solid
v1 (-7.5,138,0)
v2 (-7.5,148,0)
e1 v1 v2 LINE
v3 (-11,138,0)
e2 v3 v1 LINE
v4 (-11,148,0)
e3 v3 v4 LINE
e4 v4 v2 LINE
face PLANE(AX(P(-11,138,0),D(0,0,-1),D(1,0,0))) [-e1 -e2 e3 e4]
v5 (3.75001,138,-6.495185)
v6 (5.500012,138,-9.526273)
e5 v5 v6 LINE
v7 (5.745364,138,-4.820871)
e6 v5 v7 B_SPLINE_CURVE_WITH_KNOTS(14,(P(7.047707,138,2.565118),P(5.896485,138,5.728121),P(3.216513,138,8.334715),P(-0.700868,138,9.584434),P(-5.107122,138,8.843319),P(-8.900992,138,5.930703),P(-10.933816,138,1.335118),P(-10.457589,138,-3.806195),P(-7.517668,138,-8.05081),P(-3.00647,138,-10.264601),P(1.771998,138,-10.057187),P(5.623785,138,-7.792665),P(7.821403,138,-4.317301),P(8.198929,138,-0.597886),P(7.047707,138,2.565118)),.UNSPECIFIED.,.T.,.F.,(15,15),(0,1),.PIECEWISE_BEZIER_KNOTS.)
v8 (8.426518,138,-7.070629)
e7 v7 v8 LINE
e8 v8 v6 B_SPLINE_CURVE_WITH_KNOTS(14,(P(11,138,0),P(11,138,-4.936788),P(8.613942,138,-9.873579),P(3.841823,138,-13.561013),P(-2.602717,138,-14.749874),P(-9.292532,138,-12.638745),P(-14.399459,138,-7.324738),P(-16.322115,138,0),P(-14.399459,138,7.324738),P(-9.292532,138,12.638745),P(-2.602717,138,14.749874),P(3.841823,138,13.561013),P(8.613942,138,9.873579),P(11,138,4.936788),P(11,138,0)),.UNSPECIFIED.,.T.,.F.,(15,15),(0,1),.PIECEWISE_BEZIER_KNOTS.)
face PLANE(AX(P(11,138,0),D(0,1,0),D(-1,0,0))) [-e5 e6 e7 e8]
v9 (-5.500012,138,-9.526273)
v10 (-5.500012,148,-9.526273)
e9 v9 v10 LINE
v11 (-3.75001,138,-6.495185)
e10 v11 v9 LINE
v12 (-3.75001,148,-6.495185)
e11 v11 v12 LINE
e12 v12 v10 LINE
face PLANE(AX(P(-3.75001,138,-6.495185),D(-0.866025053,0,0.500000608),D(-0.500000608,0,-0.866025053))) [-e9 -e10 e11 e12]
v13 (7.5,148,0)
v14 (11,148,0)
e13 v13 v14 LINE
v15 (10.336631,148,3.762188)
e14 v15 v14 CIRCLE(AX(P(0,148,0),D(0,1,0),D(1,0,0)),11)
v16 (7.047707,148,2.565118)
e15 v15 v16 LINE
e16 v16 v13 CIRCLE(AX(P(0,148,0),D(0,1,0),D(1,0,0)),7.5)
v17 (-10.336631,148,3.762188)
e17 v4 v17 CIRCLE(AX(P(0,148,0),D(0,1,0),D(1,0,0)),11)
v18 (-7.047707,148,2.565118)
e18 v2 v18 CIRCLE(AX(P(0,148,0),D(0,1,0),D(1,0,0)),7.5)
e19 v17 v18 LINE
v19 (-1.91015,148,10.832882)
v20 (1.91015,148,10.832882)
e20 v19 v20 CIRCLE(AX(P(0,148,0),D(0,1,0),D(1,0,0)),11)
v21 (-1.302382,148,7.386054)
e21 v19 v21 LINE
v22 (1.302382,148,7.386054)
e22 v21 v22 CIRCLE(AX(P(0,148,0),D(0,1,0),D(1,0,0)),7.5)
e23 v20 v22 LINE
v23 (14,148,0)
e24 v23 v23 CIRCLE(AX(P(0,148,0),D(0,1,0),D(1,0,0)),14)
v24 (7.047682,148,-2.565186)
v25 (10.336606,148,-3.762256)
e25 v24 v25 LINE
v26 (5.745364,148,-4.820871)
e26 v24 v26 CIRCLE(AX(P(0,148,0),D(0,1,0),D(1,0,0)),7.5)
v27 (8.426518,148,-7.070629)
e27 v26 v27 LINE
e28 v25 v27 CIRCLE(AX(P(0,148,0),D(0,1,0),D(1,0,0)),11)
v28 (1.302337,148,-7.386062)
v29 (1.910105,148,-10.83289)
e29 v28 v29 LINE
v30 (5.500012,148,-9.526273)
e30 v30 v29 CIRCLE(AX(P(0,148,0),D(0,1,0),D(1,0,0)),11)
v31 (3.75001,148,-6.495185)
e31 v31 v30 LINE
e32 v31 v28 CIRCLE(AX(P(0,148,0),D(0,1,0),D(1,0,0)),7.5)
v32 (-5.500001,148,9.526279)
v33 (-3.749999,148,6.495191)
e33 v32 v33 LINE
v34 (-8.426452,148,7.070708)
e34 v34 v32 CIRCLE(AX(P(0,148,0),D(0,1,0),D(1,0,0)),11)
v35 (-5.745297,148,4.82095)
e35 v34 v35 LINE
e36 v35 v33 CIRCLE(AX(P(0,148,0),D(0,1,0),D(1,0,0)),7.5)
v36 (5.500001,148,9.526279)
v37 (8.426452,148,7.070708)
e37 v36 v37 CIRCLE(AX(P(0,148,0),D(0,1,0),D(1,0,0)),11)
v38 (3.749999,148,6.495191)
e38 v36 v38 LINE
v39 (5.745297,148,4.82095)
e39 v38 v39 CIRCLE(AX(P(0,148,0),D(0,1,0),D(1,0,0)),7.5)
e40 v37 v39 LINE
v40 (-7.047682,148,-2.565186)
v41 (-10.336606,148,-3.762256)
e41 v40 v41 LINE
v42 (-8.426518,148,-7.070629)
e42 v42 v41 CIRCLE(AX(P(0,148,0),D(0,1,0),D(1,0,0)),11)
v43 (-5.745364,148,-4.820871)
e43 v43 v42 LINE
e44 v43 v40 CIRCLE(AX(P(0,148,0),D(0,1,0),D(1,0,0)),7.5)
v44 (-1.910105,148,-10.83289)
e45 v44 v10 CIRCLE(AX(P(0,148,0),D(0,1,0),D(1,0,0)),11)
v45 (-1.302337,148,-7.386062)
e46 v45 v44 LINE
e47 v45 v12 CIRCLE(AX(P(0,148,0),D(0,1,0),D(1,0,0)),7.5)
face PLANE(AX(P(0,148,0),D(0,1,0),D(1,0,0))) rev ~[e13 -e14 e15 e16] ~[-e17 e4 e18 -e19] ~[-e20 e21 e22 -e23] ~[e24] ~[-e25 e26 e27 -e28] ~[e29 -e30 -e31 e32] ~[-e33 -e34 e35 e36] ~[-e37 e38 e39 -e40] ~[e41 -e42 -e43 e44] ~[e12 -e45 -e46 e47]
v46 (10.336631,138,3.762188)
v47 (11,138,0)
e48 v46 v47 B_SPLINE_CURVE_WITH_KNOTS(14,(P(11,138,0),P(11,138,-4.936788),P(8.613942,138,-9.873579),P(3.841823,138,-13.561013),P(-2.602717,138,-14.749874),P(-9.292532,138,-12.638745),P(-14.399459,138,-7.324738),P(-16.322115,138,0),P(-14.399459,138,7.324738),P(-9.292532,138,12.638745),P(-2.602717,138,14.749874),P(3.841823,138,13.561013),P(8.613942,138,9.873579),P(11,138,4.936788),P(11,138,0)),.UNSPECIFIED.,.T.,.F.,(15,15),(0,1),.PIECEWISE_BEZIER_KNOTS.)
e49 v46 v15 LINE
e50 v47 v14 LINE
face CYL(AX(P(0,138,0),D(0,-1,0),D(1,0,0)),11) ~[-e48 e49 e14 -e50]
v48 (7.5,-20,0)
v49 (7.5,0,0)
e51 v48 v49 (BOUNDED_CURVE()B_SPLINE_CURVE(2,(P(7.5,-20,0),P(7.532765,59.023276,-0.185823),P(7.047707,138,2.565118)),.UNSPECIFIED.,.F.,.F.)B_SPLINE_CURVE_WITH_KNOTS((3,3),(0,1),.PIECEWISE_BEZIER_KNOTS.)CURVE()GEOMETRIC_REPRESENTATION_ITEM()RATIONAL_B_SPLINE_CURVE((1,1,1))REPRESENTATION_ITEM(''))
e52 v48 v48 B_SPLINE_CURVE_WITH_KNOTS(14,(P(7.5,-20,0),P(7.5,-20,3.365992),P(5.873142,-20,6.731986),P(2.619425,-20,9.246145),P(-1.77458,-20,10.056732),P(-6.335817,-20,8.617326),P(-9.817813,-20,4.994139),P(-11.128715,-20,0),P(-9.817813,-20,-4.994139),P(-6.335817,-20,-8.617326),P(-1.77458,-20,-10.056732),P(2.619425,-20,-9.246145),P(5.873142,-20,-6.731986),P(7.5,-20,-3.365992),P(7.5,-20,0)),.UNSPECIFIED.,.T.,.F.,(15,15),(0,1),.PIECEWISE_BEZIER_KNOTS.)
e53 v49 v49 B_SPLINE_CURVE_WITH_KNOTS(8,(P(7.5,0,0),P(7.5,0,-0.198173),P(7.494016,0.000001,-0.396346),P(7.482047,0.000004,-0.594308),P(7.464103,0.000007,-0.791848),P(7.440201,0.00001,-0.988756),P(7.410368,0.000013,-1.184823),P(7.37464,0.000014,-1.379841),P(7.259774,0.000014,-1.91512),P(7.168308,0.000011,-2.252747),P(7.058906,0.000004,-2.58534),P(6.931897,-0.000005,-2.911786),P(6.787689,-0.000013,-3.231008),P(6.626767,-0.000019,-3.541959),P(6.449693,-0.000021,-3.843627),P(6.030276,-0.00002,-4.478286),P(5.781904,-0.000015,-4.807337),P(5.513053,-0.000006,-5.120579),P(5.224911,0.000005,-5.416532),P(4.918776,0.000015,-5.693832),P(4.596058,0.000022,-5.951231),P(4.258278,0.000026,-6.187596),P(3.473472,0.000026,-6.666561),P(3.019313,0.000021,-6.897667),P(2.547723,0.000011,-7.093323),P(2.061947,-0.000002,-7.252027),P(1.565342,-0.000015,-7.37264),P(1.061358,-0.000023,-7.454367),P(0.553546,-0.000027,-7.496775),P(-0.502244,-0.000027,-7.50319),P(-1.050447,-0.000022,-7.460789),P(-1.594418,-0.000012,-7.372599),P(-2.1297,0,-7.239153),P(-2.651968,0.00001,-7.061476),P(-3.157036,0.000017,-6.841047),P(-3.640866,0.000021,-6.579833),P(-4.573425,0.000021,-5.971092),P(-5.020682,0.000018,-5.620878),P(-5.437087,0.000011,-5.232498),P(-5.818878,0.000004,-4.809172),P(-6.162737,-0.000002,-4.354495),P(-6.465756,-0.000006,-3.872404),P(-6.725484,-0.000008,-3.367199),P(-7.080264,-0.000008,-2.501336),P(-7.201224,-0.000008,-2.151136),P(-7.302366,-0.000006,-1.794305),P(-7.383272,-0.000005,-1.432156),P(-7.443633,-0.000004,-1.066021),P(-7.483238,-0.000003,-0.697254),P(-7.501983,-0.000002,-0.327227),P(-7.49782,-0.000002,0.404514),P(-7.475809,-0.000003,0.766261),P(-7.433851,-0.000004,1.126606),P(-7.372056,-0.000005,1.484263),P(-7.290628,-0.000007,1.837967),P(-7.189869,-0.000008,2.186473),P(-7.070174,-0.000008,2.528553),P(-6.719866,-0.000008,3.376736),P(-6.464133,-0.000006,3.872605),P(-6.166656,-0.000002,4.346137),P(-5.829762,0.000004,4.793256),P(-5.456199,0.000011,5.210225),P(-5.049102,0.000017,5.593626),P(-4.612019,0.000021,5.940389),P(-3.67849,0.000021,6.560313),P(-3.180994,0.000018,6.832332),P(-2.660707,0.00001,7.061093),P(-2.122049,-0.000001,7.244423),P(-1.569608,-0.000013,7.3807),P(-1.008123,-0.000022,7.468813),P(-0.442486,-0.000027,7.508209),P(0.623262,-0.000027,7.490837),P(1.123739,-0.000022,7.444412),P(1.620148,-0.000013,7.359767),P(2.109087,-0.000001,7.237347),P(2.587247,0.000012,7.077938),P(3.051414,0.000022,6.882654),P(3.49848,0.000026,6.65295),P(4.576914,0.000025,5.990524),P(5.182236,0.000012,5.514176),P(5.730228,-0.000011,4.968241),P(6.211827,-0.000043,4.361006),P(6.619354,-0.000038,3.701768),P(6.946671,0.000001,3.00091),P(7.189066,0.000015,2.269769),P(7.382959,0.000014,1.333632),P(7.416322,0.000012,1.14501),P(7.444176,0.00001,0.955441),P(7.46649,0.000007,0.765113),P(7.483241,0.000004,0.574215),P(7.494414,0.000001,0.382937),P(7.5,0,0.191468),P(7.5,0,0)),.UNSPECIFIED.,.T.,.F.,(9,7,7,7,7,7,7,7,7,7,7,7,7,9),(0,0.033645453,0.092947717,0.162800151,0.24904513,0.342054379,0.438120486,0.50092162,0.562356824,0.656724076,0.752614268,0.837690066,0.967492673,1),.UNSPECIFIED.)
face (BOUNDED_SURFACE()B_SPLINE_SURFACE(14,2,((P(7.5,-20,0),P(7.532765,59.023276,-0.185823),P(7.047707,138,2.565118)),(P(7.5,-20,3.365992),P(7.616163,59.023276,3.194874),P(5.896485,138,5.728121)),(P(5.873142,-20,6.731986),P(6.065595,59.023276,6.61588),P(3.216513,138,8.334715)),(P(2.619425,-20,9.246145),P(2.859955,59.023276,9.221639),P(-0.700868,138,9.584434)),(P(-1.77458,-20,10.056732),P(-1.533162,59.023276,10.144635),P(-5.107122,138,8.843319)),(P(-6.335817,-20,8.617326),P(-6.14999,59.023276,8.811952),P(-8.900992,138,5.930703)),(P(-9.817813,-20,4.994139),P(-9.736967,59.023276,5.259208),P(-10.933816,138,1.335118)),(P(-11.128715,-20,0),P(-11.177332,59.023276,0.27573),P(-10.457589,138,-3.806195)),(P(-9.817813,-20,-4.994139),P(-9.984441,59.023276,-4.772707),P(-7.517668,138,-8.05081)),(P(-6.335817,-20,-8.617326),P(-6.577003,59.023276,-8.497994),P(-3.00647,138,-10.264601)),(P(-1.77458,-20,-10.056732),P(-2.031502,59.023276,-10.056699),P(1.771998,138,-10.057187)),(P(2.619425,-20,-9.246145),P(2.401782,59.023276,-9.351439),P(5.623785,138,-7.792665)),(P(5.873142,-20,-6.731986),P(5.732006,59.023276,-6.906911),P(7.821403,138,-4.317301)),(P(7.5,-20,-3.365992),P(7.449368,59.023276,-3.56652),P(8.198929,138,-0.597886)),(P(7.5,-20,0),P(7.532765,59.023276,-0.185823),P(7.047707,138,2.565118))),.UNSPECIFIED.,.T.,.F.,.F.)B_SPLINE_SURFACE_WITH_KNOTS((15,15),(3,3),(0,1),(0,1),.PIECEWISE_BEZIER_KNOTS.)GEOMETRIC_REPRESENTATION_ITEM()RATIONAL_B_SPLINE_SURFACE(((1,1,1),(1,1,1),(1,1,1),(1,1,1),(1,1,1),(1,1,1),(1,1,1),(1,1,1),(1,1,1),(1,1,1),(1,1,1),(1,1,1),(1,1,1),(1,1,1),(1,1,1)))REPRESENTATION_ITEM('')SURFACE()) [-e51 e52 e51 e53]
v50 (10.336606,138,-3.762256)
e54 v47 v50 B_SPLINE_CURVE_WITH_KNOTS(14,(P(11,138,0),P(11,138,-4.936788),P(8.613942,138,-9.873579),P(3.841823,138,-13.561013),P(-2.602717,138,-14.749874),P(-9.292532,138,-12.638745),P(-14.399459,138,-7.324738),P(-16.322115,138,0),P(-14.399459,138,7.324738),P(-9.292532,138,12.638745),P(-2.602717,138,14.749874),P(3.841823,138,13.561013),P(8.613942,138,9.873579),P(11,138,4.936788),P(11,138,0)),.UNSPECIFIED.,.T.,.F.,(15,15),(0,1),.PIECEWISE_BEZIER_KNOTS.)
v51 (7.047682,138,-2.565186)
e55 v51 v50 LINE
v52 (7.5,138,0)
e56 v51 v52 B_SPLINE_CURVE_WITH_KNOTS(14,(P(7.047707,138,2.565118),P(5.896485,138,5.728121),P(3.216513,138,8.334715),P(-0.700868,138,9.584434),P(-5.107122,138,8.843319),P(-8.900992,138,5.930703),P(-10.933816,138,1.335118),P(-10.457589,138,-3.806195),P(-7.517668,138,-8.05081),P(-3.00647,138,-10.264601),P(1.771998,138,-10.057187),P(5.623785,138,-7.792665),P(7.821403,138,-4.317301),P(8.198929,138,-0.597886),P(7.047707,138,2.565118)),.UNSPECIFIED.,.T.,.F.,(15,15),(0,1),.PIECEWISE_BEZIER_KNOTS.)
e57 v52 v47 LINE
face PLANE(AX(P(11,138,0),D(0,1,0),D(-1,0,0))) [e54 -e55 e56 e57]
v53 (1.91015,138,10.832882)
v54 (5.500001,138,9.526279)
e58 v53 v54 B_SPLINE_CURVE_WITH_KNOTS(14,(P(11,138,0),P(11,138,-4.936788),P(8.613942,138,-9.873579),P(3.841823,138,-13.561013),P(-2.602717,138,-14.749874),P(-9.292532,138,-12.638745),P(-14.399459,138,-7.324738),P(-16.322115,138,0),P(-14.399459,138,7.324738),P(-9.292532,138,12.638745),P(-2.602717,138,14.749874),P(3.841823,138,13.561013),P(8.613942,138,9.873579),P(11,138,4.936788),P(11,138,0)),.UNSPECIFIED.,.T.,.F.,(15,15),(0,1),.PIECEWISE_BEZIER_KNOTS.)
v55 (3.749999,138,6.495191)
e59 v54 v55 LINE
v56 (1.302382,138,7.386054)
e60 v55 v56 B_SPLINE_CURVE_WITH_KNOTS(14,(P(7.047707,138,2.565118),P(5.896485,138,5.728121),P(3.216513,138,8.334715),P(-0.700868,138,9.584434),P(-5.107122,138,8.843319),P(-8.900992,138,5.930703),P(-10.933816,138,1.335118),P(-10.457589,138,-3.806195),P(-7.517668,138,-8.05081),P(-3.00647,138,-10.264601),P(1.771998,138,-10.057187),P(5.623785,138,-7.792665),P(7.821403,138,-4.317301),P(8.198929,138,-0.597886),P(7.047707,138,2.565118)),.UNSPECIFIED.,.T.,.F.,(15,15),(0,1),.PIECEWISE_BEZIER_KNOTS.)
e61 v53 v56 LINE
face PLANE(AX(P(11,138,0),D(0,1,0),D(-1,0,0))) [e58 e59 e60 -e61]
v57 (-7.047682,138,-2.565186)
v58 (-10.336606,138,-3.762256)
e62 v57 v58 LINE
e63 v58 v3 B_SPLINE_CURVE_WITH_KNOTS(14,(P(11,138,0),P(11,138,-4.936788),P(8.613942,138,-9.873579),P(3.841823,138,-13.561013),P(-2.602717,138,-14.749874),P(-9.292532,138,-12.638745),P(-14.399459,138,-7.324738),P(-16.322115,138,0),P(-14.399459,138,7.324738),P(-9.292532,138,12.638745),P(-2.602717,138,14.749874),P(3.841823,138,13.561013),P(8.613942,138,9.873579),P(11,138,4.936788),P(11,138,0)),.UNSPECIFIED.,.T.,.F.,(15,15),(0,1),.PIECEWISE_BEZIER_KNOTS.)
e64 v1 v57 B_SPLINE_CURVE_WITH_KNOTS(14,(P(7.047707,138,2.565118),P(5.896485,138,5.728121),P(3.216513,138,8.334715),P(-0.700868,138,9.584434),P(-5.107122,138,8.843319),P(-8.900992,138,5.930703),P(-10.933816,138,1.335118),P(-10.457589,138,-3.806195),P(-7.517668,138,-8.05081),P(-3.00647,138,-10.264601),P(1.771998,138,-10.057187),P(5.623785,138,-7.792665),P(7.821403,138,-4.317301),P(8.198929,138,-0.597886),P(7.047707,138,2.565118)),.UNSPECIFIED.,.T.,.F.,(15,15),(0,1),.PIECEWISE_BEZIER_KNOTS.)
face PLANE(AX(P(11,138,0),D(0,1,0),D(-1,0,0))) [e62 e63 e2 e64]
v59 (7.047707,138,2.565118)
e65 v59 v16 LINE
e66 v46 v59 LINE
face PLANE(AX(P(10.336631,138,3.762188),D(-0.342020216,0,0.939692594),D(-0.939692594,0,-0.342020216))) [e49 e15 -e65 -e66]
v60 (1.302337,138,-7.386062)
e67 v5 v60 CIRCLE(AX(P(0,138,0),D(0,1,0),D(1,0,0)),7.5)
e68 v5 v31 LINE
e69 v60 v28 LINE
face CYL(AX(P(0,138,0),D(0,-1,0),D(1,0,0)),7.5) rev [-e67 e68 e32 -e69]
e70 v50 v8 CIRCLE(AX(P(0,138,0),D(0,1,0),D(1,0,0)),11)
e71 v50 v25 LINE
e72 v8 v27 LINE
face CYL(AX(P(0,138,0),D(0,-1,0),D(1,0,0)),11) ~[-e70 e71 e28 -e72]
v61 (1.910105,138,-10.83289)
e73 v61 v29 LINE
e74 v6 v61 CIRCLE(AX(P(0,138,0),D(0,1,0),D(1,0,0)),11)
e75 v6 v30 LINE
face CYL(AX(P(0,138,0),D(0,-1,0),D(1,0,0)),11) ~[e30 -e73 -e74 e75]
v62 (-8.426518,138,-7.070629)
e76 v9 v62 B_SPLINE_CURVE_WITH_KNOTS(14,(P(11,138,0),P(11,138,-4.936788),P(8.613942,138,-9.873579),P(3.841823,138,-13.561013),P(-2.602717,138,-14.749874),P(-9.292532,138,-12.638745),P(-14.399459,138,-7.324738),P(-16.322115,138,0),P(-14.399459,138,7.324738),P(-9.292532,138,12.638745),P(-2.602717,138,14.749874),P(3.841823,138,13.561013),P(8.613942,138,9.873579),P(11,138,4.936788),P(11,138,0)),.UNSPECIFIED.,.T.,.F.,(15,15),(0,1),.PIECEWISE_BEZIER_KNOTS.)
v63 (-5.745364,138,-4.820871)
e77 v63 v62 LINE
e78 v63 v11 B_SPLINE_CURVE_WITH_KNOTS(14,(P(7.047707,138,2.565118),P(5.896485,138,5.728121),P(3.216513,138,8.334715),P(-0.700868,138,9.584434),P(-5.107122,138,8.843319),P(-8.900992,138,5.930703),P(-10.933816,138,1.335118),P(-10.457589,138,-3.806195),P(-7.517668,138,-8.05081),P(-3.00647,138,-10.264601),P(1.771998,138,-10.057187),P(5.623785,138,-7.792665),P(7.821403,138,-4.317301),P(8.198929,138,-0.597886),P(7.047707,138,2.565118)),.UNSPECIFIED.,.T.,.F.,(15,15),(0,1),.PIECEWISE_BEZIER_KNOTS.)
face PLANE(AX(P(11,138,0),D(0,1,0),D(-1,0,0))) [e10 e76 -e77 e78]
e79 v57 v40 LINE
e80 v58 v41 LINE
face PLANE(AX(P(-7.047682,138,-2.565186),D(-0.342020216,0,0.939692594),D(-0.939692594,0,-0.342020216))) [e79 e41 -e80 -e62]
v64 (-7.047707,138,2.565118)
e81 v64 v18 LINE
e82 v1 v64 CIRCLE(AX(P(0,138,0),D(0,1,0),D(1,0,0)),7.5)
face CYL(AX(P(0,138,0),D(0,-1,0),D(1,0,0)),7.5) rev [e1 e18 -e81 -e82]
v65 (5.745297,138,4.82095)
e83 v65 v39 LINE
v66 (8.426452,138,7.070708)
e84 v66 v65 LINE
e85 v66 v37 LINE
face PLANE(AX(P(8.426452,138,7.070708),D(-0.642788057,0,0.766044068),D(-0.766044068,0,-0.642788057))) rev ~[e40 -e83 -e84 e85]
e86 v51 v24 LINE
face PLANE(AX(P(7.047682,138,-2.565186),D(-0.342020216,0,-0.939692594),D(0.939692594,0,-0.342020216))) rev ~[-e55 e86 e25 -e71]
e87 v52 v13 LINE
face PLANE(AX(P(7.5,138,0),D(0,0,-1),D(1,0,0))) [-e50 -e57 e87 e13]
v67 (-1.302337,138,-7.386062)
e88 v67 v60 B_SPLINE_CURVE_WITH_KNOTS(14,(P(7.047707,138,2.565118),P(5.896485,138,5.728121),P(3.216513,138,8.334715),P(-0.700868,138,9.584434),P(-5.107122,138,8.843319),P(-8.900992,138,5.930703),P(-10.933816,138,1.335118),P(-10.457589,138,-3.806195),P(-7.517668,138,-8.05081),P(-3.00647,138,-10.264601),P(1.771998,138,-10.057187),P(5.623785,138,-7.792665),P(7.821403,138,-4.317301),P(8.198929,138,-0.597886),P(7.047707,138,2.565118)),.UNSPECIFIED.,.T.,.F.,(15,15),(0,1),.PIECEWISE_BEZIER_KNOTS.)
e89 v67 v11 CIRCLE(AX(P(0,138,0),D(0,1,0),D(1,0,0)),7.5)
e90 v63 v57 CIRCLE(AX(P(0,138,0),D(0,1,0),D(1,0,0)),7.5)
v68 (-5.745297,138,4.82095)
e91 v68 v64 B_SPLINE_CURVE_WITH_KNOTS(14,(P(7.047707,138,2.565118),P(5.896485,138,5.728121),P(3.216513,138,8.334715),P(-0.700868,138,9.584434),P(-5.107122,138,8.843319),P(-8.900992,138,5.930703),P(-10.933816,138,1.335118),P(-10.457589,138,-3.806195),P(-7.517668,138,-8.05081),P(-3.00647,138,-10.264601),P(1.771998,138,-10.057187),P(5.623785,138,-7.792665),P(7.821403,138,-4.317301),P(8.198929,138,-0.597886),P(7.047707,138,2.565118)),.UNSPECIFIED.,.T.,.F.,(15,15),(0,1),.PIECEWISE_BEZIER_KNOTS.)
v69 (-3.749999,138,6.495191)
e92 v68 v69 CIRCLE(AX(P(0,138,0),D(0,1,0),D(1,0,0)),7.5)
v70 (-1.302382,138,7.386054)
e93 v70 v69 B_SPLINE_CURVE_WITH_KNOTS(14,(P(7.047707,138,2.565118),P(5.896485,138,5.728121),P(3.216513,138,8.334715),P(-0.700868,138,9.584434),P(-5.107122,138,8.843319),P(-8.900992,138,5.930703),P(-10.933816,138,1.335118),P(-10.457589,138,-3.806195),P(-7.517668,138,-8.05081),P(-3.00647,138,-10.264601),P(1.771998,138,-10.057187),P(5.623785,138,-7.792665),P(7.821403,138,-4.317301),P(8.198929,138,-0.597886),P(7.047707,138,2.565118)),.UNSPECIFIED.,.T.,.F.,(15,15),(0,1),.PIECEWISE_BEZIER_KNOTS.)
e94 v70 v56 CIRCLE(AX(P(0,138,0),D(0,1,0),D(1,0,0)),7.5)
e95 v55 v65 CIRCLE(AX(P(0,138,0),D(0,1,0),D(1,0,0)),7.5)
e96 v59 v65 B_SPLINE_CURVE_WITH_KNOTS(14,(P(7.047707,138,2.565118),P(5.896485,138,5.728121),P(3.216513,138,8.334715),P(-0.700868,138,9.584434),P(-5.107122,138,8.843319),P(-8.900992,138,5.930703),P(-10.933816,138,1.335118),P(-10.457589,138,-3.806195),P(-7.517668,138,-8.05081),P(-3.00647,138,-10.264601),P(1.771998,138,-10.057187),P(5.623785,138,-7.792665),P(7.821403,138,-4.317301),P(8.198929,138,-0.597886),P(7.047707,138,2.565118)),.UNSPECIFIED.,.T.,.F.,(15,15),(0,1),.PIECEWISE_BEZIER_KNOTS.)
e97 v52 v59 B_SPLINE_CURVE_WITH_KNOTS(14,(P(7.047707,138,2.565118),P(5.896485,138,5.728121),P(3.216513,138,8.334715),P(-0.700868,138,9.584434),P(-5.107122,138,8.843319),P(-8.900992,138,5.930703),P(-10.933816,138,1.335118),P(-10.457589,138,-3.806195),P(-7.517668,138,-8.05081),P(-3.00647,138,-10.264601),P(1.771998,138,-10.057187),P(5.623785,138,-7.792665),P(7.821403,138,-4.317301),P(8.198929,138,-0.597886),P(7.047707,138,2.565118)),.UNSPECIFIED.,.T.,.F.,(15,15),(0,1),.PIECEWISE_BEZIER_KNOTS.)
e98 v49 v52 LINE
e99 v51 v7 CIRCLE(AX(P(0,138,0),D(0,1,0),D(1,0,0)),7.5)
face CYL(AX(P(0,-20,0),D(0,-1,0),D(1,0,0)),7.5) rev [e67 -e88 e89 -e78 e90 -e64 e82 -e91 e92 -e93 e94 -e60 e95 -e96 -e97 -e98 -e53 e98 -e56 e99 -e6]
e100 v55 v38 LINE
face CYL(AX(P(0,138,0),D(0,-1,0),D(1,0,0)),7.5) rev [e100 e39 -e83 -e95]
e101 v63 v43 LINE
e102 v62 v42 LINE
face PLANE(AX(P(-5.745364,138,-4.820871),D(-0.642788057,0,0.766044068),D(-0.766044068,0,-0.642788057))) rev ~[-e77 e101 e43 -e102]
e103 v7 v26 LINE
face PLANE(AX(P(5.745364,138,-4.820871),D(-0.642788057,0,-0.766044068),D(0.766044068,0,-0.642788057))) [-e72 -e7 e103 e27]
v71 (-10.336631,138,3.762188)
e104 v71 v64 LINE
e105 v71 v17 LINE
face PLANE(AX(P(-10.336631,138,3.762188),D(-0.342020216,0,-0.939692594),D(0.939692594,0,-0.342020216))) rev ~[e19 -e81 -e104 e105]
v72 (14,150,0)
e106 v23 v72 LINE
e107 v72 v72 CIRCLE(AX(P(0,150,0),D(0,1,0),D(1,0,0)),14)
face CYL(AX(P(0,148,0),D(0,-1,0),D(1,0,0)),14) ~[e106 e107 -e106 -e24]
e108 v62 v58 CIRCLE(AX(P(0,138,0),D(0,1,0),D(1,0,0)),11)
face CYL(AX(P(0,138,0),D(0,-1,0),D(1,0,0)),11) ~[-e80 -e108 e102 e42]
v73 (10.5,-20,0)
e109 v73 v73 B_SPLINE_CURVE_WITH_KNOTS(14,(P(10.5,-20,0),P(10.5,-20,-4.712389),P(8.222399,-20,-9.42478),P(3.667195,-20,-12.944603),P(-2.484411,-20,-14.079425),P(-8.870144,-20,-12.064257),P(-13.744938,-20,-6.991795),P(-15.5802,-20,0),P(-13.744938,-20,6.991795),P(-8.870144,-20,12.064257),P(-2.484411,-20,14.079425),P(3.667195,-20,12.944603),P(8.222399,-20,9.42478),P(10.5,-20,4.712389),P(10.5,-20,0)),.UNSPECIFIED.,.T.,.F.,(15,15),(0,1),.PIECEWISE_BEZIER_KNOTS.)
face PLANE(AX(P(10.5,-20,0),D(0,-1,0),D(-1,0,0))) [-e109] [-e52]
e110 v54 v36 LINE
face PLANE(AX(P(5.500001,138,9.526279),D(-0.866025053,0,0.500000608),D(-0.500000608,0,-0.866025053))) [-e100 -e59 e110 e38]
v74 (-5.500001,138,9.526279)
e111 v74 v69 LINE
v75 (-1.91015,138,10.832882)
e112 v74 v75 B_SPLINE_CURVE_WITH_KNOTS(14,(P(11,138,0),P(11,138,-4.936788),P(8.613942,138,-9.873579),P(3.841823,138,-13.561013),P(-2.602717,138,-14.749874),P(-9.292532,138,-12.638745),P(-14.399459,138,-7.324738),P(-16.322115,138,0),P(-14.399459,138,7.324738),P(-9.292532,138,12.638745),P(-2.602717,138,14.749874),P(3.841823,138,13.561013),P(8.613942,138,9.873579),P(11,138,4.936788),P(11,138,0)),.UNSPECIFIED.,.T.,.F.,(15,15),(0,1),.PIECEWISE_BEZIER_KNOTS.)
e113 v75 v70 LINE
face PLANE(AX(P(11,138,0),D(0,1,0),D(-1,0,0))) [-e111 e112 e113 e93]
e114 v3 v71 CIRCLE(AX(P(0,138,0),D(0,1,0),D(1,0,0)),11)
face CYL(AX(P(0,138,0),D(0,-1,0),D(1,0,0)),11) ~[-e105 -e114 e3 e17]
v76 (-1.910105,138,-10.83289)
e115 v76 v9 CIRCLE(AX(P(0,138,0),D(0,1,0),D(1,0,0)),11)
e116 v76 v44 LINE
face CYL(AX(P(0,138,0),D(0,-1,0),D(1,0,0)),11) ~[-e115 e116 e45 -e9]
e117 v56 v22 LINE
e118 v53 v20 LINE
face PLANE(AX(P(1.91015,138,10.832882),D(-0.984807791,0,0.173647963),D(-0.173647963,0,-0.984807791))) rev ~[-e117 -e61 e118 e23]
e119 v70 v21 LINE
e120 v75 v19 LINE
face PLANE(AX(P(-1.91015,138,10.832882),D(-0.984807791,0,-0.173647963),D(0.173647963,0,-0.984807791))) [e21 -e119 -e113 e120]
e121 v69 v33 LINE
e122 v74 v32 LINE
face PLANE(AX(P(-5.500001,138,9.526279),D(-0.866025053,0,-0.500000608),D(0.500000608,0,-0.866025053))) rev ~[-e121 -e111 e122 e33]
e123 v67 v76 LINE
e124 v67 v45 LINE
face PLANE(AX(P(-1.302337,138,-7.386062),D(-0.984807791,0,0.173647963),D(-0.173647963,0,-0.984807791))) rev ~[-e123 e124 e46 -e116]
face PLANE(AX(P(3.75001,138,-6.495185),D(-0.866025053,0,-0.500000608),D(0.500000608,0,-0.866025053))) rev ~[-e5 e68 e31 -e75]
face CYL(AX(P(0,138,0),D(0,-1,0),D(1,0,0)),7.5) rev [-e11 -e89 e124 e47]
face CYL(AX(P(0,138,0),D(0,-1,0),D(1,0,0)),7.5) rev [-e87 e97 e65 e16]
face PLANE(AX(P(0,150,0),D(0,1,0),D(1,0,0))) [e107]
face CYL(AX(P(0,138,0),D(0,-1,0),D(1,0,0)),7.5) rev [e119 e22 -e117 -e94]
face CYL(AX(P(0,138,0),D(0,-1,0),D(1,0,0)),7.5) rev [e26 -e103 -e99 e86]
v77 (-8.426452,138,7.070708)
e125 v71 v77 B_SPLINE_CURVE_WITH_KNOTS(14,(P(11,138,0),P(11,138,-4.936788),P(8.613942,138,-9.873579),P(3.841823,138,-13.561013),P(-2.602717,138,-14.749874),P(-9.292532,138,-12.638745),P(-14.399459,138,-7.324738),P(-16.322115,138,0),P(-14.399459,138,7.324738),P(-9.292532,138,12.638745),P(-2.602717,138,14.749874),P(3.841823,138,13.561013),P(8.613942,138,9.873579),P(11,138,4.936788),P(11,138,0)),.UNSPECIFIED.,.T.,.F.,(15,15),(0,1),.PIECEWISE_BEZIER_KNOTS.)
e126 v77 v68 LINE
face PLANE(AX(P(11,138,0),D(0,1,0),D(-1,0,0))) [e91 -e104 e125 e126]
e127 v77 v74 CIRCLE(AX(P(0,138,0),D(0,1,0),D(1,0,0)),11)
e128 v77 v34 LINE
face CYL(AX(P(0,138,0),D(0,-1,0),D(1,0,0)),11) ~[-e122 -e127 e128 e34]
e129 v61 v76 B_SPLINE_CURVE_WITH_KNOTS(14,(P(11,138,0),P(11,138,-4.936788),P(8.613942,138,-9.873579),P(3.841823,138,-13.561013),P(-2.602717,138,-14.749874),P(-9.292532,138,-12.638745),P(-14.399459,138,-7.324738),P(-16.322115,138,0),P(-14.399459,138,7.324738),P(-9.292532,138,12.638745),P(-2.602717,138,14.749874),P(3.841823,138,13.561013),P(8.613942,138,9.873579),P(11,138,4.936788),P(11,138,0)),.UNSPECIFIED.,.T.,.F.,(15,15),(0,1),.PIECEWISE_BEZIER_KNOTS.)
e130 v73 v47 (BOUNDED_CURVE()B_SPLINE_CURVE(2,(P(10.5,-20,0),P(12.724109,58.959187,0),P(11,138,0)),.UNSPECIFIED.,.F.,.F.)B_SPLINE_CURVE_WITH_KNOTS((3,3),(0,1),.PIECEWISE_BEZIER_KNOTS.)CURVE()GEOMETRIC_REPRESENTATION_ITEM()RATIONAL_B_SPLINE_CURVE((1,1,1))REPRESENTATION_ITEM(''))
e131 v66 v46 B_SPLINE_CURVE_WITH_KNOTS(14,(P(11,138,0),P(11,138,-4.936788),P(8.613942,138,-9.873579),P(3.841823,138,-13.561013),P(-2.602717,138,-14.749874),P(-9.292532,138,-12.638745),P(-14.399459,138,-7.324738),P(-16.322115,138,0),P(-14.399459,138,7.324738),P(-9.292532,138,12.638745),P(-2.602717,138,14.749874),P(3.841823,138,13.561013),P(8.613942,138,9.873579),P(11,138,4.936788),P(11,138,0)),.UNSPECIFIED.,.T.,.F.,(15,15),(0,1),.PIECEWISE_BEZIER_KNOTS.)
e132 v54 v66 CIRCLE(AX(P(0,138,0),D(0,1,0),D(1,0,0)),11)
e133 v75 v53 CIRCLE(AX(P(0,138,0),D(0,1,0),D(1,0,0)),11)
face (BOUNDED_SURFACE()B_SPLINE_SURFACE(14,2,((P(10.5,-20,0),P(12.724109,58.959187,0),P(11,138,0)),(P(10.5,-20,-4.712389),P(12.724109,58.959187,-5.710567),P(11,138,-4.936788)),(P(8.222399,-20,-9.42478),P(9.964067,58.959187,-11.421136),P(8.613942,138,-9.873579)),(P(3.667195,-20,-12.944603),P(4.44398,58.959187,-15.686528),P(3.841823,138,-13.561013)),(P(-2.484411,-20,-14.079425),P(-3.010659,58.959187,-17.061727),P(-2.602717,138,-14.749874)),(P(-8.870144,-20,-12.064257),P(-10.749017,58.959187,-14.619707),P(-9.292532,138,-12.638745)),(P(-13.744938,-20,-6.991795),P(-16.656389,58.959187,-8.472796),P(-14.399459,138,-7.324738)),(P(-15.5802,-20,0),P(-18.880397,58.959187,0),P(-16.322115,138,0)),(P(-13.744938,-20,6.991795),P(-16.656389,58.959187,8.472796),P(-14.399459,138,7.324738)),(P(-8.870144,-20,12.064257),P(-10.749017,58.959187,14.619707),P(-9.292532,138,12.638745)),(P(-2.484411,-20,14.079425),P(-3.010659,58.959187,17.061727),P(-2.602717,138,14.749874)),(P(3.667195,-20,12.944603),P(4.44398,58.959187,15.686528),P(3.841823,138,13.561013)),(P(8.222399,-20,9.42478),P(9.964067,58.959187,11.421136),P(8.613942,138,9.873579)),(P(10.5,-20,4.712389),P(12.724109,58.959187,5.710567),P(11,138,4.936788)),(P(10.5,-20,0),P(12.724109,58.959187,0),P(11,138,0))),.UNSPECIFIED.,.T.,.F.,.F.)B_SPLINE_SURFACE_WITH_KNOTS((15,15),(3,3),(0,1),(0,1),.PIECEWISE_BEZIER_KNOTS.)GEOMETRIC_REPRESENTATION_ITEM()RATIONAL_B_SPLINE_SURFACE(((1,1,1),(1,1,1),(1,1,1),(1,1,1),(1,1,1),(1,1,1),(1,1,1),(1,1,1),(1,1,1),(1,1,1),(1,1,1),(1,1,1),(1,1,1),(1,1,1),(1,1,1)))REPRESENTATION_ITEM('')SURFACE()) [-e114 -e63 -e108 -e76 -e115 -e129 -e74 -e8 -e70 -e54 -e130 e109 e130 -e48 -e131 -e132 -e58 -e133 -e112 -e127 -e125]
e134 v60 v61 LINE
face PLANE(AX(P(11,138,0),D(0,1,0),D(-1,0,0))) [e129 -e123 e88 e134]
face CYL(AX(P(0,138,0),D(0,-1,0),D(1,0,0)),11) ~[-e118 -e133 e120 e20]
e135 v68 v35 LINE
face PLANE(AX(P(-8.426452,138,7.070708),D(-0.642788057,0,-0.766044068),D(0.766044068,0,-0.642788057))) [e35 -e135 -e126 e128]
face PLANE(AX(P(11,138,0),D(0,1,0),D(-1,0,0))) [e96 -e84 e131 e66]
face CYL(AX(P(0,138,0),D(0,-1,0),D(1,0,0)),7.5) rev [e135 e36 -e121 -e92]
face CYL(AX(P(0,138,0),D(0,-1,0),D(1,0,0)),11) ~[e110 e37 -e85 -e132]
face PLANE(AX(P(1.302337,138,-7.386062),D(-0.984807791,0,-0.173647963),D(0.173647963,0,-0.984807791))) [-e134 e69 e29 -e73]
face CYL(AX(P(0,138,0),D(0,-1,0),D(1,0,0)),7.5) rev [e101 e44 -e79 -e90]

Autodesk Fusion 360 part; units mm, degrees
sketch "Sketch1" plane through (0, 0, 0) normal (0, 1, 0) x (1, 0, 0)
  circle A0 centre (0, 0) radius 11
  circle A1 centre (0, 0) radius 7.5
  dimension "d1" = 22
  dimension "d2" = 15
ref_plane "WorkPlane1" through (0, 138, 0) normal (0, 1, 0) x (1, 0, 0)
ref_plane "WorkPlane2" through (0, -20, 0) normal (0, 1, 0) x (1, 0, 0)
sketch "Sketch2" plane through (0, -20, 0) normal (0, 1, 0) x (1, 0, 0)
  circle A0 centre (0, 0) radius 7.5
  circle A1 centre (0, 0) radius 10.5
  dimension "d5" = 21
sketch "Sketch3" plane through (0, 138, 0) normal (0, 1, 0) x (1, 0, 0)
  circle A0 centre (0, 0) radius 7.5
  circle A1 centre (0, 0) radius 11
  line L0 (0, 0) -> (20, 0) construction
  line L1 (-12, 0) -> (13, 0)
  line L2 (-11.2763, -4.1042) -> (12.216, 4.4463)
  line L3 (-9.1925, -7.7135) -> (9.9586, 8.3562)
  line L4 (-6, -10.3923) -> (6.5, 11.2583)
  line L5 (-2.0838, -11.8177) -> (2.2574, 12.8025)
  line L6 (2.0838, -11.8177) -> (-2.2574, 12.8025)
  line L7 (6, -10.3923) -> (-6.5, 11.2583)
  line L8 (9.1925, -7.7135) -> (-9.9586, 8.3562)
  line L9 (11.2763, -4.1042) -> (-12.216, 4.4463)
ref_plane "WorkPlane3" through (0, 148, 0) normal (0, 1, 0) x (1, 0, 0)
sketch "Sketch4" plane through (0, 148, 0) normal (0, 1, 0) x (1, 0, 0)
  circle A0 centre (0, 0) radius 7.5
  circle A1 centre (0, 0) radius 14
  dimension "d10" = 28
extrude "Extrude1" add sketch "Sketch4" along normal blind 2 contours A0 | A1 makes body 1
loft "Loft1" add profiles "Sketch2", "Sketch1", "Sketch3" section 1 section 2 section 3 contours A0 A1 L1 L9 | A0 A1 L1 L2 | A0 A1 L2 L3 | A0 A1 L8 L9 | A0 A1 L3 L4 | A0 A1 L7 L8 | A0 A1 L1 L9 | A0 A1 L1 L2 | A0 A1 L2 L3 | A0 A1 L3 L4 | A0 A1 L4 L5 | A0 A1 L4 L5 | A0 A1 L5 L6 | A0 A1 L5 L6 | A0 A1 L6 L7 | A0 A1 L6 L7 | A0 A1 L7 L8 | A0 A1 L8 L9 separate body makes body 2
extrude "Extrude2" cut sketch "Sketch2" along normal blind 160 contours A0 bodies 2
extrude "Extrude3" add sketch "Sketch3" along normal blind 10 contours A0 A1 L1 L9 | A0 A1 L2 L3 | A0 A1 L7 L8 | A0 A1 L1 L2 | A0 A1 L3 L4 | A0 A1 L4 L5 | A0 A1 L5 L6 | A0 A1 L6 L7 | A0 A1 L8 L9 picked at (9.446, -2.6762) picked at (9.0714, 3.7547) picked at (6.4214, -7.4266) picked at (-9.8085, -0.4257) picked at (-6.1987, -7.6135) picked at (2.1224, 9.5856) picked at (-0.1454, -9.8167) picked at (-4.5356, 8.7073) picked at (-9.0714, 3.7547) bodies 1 2
